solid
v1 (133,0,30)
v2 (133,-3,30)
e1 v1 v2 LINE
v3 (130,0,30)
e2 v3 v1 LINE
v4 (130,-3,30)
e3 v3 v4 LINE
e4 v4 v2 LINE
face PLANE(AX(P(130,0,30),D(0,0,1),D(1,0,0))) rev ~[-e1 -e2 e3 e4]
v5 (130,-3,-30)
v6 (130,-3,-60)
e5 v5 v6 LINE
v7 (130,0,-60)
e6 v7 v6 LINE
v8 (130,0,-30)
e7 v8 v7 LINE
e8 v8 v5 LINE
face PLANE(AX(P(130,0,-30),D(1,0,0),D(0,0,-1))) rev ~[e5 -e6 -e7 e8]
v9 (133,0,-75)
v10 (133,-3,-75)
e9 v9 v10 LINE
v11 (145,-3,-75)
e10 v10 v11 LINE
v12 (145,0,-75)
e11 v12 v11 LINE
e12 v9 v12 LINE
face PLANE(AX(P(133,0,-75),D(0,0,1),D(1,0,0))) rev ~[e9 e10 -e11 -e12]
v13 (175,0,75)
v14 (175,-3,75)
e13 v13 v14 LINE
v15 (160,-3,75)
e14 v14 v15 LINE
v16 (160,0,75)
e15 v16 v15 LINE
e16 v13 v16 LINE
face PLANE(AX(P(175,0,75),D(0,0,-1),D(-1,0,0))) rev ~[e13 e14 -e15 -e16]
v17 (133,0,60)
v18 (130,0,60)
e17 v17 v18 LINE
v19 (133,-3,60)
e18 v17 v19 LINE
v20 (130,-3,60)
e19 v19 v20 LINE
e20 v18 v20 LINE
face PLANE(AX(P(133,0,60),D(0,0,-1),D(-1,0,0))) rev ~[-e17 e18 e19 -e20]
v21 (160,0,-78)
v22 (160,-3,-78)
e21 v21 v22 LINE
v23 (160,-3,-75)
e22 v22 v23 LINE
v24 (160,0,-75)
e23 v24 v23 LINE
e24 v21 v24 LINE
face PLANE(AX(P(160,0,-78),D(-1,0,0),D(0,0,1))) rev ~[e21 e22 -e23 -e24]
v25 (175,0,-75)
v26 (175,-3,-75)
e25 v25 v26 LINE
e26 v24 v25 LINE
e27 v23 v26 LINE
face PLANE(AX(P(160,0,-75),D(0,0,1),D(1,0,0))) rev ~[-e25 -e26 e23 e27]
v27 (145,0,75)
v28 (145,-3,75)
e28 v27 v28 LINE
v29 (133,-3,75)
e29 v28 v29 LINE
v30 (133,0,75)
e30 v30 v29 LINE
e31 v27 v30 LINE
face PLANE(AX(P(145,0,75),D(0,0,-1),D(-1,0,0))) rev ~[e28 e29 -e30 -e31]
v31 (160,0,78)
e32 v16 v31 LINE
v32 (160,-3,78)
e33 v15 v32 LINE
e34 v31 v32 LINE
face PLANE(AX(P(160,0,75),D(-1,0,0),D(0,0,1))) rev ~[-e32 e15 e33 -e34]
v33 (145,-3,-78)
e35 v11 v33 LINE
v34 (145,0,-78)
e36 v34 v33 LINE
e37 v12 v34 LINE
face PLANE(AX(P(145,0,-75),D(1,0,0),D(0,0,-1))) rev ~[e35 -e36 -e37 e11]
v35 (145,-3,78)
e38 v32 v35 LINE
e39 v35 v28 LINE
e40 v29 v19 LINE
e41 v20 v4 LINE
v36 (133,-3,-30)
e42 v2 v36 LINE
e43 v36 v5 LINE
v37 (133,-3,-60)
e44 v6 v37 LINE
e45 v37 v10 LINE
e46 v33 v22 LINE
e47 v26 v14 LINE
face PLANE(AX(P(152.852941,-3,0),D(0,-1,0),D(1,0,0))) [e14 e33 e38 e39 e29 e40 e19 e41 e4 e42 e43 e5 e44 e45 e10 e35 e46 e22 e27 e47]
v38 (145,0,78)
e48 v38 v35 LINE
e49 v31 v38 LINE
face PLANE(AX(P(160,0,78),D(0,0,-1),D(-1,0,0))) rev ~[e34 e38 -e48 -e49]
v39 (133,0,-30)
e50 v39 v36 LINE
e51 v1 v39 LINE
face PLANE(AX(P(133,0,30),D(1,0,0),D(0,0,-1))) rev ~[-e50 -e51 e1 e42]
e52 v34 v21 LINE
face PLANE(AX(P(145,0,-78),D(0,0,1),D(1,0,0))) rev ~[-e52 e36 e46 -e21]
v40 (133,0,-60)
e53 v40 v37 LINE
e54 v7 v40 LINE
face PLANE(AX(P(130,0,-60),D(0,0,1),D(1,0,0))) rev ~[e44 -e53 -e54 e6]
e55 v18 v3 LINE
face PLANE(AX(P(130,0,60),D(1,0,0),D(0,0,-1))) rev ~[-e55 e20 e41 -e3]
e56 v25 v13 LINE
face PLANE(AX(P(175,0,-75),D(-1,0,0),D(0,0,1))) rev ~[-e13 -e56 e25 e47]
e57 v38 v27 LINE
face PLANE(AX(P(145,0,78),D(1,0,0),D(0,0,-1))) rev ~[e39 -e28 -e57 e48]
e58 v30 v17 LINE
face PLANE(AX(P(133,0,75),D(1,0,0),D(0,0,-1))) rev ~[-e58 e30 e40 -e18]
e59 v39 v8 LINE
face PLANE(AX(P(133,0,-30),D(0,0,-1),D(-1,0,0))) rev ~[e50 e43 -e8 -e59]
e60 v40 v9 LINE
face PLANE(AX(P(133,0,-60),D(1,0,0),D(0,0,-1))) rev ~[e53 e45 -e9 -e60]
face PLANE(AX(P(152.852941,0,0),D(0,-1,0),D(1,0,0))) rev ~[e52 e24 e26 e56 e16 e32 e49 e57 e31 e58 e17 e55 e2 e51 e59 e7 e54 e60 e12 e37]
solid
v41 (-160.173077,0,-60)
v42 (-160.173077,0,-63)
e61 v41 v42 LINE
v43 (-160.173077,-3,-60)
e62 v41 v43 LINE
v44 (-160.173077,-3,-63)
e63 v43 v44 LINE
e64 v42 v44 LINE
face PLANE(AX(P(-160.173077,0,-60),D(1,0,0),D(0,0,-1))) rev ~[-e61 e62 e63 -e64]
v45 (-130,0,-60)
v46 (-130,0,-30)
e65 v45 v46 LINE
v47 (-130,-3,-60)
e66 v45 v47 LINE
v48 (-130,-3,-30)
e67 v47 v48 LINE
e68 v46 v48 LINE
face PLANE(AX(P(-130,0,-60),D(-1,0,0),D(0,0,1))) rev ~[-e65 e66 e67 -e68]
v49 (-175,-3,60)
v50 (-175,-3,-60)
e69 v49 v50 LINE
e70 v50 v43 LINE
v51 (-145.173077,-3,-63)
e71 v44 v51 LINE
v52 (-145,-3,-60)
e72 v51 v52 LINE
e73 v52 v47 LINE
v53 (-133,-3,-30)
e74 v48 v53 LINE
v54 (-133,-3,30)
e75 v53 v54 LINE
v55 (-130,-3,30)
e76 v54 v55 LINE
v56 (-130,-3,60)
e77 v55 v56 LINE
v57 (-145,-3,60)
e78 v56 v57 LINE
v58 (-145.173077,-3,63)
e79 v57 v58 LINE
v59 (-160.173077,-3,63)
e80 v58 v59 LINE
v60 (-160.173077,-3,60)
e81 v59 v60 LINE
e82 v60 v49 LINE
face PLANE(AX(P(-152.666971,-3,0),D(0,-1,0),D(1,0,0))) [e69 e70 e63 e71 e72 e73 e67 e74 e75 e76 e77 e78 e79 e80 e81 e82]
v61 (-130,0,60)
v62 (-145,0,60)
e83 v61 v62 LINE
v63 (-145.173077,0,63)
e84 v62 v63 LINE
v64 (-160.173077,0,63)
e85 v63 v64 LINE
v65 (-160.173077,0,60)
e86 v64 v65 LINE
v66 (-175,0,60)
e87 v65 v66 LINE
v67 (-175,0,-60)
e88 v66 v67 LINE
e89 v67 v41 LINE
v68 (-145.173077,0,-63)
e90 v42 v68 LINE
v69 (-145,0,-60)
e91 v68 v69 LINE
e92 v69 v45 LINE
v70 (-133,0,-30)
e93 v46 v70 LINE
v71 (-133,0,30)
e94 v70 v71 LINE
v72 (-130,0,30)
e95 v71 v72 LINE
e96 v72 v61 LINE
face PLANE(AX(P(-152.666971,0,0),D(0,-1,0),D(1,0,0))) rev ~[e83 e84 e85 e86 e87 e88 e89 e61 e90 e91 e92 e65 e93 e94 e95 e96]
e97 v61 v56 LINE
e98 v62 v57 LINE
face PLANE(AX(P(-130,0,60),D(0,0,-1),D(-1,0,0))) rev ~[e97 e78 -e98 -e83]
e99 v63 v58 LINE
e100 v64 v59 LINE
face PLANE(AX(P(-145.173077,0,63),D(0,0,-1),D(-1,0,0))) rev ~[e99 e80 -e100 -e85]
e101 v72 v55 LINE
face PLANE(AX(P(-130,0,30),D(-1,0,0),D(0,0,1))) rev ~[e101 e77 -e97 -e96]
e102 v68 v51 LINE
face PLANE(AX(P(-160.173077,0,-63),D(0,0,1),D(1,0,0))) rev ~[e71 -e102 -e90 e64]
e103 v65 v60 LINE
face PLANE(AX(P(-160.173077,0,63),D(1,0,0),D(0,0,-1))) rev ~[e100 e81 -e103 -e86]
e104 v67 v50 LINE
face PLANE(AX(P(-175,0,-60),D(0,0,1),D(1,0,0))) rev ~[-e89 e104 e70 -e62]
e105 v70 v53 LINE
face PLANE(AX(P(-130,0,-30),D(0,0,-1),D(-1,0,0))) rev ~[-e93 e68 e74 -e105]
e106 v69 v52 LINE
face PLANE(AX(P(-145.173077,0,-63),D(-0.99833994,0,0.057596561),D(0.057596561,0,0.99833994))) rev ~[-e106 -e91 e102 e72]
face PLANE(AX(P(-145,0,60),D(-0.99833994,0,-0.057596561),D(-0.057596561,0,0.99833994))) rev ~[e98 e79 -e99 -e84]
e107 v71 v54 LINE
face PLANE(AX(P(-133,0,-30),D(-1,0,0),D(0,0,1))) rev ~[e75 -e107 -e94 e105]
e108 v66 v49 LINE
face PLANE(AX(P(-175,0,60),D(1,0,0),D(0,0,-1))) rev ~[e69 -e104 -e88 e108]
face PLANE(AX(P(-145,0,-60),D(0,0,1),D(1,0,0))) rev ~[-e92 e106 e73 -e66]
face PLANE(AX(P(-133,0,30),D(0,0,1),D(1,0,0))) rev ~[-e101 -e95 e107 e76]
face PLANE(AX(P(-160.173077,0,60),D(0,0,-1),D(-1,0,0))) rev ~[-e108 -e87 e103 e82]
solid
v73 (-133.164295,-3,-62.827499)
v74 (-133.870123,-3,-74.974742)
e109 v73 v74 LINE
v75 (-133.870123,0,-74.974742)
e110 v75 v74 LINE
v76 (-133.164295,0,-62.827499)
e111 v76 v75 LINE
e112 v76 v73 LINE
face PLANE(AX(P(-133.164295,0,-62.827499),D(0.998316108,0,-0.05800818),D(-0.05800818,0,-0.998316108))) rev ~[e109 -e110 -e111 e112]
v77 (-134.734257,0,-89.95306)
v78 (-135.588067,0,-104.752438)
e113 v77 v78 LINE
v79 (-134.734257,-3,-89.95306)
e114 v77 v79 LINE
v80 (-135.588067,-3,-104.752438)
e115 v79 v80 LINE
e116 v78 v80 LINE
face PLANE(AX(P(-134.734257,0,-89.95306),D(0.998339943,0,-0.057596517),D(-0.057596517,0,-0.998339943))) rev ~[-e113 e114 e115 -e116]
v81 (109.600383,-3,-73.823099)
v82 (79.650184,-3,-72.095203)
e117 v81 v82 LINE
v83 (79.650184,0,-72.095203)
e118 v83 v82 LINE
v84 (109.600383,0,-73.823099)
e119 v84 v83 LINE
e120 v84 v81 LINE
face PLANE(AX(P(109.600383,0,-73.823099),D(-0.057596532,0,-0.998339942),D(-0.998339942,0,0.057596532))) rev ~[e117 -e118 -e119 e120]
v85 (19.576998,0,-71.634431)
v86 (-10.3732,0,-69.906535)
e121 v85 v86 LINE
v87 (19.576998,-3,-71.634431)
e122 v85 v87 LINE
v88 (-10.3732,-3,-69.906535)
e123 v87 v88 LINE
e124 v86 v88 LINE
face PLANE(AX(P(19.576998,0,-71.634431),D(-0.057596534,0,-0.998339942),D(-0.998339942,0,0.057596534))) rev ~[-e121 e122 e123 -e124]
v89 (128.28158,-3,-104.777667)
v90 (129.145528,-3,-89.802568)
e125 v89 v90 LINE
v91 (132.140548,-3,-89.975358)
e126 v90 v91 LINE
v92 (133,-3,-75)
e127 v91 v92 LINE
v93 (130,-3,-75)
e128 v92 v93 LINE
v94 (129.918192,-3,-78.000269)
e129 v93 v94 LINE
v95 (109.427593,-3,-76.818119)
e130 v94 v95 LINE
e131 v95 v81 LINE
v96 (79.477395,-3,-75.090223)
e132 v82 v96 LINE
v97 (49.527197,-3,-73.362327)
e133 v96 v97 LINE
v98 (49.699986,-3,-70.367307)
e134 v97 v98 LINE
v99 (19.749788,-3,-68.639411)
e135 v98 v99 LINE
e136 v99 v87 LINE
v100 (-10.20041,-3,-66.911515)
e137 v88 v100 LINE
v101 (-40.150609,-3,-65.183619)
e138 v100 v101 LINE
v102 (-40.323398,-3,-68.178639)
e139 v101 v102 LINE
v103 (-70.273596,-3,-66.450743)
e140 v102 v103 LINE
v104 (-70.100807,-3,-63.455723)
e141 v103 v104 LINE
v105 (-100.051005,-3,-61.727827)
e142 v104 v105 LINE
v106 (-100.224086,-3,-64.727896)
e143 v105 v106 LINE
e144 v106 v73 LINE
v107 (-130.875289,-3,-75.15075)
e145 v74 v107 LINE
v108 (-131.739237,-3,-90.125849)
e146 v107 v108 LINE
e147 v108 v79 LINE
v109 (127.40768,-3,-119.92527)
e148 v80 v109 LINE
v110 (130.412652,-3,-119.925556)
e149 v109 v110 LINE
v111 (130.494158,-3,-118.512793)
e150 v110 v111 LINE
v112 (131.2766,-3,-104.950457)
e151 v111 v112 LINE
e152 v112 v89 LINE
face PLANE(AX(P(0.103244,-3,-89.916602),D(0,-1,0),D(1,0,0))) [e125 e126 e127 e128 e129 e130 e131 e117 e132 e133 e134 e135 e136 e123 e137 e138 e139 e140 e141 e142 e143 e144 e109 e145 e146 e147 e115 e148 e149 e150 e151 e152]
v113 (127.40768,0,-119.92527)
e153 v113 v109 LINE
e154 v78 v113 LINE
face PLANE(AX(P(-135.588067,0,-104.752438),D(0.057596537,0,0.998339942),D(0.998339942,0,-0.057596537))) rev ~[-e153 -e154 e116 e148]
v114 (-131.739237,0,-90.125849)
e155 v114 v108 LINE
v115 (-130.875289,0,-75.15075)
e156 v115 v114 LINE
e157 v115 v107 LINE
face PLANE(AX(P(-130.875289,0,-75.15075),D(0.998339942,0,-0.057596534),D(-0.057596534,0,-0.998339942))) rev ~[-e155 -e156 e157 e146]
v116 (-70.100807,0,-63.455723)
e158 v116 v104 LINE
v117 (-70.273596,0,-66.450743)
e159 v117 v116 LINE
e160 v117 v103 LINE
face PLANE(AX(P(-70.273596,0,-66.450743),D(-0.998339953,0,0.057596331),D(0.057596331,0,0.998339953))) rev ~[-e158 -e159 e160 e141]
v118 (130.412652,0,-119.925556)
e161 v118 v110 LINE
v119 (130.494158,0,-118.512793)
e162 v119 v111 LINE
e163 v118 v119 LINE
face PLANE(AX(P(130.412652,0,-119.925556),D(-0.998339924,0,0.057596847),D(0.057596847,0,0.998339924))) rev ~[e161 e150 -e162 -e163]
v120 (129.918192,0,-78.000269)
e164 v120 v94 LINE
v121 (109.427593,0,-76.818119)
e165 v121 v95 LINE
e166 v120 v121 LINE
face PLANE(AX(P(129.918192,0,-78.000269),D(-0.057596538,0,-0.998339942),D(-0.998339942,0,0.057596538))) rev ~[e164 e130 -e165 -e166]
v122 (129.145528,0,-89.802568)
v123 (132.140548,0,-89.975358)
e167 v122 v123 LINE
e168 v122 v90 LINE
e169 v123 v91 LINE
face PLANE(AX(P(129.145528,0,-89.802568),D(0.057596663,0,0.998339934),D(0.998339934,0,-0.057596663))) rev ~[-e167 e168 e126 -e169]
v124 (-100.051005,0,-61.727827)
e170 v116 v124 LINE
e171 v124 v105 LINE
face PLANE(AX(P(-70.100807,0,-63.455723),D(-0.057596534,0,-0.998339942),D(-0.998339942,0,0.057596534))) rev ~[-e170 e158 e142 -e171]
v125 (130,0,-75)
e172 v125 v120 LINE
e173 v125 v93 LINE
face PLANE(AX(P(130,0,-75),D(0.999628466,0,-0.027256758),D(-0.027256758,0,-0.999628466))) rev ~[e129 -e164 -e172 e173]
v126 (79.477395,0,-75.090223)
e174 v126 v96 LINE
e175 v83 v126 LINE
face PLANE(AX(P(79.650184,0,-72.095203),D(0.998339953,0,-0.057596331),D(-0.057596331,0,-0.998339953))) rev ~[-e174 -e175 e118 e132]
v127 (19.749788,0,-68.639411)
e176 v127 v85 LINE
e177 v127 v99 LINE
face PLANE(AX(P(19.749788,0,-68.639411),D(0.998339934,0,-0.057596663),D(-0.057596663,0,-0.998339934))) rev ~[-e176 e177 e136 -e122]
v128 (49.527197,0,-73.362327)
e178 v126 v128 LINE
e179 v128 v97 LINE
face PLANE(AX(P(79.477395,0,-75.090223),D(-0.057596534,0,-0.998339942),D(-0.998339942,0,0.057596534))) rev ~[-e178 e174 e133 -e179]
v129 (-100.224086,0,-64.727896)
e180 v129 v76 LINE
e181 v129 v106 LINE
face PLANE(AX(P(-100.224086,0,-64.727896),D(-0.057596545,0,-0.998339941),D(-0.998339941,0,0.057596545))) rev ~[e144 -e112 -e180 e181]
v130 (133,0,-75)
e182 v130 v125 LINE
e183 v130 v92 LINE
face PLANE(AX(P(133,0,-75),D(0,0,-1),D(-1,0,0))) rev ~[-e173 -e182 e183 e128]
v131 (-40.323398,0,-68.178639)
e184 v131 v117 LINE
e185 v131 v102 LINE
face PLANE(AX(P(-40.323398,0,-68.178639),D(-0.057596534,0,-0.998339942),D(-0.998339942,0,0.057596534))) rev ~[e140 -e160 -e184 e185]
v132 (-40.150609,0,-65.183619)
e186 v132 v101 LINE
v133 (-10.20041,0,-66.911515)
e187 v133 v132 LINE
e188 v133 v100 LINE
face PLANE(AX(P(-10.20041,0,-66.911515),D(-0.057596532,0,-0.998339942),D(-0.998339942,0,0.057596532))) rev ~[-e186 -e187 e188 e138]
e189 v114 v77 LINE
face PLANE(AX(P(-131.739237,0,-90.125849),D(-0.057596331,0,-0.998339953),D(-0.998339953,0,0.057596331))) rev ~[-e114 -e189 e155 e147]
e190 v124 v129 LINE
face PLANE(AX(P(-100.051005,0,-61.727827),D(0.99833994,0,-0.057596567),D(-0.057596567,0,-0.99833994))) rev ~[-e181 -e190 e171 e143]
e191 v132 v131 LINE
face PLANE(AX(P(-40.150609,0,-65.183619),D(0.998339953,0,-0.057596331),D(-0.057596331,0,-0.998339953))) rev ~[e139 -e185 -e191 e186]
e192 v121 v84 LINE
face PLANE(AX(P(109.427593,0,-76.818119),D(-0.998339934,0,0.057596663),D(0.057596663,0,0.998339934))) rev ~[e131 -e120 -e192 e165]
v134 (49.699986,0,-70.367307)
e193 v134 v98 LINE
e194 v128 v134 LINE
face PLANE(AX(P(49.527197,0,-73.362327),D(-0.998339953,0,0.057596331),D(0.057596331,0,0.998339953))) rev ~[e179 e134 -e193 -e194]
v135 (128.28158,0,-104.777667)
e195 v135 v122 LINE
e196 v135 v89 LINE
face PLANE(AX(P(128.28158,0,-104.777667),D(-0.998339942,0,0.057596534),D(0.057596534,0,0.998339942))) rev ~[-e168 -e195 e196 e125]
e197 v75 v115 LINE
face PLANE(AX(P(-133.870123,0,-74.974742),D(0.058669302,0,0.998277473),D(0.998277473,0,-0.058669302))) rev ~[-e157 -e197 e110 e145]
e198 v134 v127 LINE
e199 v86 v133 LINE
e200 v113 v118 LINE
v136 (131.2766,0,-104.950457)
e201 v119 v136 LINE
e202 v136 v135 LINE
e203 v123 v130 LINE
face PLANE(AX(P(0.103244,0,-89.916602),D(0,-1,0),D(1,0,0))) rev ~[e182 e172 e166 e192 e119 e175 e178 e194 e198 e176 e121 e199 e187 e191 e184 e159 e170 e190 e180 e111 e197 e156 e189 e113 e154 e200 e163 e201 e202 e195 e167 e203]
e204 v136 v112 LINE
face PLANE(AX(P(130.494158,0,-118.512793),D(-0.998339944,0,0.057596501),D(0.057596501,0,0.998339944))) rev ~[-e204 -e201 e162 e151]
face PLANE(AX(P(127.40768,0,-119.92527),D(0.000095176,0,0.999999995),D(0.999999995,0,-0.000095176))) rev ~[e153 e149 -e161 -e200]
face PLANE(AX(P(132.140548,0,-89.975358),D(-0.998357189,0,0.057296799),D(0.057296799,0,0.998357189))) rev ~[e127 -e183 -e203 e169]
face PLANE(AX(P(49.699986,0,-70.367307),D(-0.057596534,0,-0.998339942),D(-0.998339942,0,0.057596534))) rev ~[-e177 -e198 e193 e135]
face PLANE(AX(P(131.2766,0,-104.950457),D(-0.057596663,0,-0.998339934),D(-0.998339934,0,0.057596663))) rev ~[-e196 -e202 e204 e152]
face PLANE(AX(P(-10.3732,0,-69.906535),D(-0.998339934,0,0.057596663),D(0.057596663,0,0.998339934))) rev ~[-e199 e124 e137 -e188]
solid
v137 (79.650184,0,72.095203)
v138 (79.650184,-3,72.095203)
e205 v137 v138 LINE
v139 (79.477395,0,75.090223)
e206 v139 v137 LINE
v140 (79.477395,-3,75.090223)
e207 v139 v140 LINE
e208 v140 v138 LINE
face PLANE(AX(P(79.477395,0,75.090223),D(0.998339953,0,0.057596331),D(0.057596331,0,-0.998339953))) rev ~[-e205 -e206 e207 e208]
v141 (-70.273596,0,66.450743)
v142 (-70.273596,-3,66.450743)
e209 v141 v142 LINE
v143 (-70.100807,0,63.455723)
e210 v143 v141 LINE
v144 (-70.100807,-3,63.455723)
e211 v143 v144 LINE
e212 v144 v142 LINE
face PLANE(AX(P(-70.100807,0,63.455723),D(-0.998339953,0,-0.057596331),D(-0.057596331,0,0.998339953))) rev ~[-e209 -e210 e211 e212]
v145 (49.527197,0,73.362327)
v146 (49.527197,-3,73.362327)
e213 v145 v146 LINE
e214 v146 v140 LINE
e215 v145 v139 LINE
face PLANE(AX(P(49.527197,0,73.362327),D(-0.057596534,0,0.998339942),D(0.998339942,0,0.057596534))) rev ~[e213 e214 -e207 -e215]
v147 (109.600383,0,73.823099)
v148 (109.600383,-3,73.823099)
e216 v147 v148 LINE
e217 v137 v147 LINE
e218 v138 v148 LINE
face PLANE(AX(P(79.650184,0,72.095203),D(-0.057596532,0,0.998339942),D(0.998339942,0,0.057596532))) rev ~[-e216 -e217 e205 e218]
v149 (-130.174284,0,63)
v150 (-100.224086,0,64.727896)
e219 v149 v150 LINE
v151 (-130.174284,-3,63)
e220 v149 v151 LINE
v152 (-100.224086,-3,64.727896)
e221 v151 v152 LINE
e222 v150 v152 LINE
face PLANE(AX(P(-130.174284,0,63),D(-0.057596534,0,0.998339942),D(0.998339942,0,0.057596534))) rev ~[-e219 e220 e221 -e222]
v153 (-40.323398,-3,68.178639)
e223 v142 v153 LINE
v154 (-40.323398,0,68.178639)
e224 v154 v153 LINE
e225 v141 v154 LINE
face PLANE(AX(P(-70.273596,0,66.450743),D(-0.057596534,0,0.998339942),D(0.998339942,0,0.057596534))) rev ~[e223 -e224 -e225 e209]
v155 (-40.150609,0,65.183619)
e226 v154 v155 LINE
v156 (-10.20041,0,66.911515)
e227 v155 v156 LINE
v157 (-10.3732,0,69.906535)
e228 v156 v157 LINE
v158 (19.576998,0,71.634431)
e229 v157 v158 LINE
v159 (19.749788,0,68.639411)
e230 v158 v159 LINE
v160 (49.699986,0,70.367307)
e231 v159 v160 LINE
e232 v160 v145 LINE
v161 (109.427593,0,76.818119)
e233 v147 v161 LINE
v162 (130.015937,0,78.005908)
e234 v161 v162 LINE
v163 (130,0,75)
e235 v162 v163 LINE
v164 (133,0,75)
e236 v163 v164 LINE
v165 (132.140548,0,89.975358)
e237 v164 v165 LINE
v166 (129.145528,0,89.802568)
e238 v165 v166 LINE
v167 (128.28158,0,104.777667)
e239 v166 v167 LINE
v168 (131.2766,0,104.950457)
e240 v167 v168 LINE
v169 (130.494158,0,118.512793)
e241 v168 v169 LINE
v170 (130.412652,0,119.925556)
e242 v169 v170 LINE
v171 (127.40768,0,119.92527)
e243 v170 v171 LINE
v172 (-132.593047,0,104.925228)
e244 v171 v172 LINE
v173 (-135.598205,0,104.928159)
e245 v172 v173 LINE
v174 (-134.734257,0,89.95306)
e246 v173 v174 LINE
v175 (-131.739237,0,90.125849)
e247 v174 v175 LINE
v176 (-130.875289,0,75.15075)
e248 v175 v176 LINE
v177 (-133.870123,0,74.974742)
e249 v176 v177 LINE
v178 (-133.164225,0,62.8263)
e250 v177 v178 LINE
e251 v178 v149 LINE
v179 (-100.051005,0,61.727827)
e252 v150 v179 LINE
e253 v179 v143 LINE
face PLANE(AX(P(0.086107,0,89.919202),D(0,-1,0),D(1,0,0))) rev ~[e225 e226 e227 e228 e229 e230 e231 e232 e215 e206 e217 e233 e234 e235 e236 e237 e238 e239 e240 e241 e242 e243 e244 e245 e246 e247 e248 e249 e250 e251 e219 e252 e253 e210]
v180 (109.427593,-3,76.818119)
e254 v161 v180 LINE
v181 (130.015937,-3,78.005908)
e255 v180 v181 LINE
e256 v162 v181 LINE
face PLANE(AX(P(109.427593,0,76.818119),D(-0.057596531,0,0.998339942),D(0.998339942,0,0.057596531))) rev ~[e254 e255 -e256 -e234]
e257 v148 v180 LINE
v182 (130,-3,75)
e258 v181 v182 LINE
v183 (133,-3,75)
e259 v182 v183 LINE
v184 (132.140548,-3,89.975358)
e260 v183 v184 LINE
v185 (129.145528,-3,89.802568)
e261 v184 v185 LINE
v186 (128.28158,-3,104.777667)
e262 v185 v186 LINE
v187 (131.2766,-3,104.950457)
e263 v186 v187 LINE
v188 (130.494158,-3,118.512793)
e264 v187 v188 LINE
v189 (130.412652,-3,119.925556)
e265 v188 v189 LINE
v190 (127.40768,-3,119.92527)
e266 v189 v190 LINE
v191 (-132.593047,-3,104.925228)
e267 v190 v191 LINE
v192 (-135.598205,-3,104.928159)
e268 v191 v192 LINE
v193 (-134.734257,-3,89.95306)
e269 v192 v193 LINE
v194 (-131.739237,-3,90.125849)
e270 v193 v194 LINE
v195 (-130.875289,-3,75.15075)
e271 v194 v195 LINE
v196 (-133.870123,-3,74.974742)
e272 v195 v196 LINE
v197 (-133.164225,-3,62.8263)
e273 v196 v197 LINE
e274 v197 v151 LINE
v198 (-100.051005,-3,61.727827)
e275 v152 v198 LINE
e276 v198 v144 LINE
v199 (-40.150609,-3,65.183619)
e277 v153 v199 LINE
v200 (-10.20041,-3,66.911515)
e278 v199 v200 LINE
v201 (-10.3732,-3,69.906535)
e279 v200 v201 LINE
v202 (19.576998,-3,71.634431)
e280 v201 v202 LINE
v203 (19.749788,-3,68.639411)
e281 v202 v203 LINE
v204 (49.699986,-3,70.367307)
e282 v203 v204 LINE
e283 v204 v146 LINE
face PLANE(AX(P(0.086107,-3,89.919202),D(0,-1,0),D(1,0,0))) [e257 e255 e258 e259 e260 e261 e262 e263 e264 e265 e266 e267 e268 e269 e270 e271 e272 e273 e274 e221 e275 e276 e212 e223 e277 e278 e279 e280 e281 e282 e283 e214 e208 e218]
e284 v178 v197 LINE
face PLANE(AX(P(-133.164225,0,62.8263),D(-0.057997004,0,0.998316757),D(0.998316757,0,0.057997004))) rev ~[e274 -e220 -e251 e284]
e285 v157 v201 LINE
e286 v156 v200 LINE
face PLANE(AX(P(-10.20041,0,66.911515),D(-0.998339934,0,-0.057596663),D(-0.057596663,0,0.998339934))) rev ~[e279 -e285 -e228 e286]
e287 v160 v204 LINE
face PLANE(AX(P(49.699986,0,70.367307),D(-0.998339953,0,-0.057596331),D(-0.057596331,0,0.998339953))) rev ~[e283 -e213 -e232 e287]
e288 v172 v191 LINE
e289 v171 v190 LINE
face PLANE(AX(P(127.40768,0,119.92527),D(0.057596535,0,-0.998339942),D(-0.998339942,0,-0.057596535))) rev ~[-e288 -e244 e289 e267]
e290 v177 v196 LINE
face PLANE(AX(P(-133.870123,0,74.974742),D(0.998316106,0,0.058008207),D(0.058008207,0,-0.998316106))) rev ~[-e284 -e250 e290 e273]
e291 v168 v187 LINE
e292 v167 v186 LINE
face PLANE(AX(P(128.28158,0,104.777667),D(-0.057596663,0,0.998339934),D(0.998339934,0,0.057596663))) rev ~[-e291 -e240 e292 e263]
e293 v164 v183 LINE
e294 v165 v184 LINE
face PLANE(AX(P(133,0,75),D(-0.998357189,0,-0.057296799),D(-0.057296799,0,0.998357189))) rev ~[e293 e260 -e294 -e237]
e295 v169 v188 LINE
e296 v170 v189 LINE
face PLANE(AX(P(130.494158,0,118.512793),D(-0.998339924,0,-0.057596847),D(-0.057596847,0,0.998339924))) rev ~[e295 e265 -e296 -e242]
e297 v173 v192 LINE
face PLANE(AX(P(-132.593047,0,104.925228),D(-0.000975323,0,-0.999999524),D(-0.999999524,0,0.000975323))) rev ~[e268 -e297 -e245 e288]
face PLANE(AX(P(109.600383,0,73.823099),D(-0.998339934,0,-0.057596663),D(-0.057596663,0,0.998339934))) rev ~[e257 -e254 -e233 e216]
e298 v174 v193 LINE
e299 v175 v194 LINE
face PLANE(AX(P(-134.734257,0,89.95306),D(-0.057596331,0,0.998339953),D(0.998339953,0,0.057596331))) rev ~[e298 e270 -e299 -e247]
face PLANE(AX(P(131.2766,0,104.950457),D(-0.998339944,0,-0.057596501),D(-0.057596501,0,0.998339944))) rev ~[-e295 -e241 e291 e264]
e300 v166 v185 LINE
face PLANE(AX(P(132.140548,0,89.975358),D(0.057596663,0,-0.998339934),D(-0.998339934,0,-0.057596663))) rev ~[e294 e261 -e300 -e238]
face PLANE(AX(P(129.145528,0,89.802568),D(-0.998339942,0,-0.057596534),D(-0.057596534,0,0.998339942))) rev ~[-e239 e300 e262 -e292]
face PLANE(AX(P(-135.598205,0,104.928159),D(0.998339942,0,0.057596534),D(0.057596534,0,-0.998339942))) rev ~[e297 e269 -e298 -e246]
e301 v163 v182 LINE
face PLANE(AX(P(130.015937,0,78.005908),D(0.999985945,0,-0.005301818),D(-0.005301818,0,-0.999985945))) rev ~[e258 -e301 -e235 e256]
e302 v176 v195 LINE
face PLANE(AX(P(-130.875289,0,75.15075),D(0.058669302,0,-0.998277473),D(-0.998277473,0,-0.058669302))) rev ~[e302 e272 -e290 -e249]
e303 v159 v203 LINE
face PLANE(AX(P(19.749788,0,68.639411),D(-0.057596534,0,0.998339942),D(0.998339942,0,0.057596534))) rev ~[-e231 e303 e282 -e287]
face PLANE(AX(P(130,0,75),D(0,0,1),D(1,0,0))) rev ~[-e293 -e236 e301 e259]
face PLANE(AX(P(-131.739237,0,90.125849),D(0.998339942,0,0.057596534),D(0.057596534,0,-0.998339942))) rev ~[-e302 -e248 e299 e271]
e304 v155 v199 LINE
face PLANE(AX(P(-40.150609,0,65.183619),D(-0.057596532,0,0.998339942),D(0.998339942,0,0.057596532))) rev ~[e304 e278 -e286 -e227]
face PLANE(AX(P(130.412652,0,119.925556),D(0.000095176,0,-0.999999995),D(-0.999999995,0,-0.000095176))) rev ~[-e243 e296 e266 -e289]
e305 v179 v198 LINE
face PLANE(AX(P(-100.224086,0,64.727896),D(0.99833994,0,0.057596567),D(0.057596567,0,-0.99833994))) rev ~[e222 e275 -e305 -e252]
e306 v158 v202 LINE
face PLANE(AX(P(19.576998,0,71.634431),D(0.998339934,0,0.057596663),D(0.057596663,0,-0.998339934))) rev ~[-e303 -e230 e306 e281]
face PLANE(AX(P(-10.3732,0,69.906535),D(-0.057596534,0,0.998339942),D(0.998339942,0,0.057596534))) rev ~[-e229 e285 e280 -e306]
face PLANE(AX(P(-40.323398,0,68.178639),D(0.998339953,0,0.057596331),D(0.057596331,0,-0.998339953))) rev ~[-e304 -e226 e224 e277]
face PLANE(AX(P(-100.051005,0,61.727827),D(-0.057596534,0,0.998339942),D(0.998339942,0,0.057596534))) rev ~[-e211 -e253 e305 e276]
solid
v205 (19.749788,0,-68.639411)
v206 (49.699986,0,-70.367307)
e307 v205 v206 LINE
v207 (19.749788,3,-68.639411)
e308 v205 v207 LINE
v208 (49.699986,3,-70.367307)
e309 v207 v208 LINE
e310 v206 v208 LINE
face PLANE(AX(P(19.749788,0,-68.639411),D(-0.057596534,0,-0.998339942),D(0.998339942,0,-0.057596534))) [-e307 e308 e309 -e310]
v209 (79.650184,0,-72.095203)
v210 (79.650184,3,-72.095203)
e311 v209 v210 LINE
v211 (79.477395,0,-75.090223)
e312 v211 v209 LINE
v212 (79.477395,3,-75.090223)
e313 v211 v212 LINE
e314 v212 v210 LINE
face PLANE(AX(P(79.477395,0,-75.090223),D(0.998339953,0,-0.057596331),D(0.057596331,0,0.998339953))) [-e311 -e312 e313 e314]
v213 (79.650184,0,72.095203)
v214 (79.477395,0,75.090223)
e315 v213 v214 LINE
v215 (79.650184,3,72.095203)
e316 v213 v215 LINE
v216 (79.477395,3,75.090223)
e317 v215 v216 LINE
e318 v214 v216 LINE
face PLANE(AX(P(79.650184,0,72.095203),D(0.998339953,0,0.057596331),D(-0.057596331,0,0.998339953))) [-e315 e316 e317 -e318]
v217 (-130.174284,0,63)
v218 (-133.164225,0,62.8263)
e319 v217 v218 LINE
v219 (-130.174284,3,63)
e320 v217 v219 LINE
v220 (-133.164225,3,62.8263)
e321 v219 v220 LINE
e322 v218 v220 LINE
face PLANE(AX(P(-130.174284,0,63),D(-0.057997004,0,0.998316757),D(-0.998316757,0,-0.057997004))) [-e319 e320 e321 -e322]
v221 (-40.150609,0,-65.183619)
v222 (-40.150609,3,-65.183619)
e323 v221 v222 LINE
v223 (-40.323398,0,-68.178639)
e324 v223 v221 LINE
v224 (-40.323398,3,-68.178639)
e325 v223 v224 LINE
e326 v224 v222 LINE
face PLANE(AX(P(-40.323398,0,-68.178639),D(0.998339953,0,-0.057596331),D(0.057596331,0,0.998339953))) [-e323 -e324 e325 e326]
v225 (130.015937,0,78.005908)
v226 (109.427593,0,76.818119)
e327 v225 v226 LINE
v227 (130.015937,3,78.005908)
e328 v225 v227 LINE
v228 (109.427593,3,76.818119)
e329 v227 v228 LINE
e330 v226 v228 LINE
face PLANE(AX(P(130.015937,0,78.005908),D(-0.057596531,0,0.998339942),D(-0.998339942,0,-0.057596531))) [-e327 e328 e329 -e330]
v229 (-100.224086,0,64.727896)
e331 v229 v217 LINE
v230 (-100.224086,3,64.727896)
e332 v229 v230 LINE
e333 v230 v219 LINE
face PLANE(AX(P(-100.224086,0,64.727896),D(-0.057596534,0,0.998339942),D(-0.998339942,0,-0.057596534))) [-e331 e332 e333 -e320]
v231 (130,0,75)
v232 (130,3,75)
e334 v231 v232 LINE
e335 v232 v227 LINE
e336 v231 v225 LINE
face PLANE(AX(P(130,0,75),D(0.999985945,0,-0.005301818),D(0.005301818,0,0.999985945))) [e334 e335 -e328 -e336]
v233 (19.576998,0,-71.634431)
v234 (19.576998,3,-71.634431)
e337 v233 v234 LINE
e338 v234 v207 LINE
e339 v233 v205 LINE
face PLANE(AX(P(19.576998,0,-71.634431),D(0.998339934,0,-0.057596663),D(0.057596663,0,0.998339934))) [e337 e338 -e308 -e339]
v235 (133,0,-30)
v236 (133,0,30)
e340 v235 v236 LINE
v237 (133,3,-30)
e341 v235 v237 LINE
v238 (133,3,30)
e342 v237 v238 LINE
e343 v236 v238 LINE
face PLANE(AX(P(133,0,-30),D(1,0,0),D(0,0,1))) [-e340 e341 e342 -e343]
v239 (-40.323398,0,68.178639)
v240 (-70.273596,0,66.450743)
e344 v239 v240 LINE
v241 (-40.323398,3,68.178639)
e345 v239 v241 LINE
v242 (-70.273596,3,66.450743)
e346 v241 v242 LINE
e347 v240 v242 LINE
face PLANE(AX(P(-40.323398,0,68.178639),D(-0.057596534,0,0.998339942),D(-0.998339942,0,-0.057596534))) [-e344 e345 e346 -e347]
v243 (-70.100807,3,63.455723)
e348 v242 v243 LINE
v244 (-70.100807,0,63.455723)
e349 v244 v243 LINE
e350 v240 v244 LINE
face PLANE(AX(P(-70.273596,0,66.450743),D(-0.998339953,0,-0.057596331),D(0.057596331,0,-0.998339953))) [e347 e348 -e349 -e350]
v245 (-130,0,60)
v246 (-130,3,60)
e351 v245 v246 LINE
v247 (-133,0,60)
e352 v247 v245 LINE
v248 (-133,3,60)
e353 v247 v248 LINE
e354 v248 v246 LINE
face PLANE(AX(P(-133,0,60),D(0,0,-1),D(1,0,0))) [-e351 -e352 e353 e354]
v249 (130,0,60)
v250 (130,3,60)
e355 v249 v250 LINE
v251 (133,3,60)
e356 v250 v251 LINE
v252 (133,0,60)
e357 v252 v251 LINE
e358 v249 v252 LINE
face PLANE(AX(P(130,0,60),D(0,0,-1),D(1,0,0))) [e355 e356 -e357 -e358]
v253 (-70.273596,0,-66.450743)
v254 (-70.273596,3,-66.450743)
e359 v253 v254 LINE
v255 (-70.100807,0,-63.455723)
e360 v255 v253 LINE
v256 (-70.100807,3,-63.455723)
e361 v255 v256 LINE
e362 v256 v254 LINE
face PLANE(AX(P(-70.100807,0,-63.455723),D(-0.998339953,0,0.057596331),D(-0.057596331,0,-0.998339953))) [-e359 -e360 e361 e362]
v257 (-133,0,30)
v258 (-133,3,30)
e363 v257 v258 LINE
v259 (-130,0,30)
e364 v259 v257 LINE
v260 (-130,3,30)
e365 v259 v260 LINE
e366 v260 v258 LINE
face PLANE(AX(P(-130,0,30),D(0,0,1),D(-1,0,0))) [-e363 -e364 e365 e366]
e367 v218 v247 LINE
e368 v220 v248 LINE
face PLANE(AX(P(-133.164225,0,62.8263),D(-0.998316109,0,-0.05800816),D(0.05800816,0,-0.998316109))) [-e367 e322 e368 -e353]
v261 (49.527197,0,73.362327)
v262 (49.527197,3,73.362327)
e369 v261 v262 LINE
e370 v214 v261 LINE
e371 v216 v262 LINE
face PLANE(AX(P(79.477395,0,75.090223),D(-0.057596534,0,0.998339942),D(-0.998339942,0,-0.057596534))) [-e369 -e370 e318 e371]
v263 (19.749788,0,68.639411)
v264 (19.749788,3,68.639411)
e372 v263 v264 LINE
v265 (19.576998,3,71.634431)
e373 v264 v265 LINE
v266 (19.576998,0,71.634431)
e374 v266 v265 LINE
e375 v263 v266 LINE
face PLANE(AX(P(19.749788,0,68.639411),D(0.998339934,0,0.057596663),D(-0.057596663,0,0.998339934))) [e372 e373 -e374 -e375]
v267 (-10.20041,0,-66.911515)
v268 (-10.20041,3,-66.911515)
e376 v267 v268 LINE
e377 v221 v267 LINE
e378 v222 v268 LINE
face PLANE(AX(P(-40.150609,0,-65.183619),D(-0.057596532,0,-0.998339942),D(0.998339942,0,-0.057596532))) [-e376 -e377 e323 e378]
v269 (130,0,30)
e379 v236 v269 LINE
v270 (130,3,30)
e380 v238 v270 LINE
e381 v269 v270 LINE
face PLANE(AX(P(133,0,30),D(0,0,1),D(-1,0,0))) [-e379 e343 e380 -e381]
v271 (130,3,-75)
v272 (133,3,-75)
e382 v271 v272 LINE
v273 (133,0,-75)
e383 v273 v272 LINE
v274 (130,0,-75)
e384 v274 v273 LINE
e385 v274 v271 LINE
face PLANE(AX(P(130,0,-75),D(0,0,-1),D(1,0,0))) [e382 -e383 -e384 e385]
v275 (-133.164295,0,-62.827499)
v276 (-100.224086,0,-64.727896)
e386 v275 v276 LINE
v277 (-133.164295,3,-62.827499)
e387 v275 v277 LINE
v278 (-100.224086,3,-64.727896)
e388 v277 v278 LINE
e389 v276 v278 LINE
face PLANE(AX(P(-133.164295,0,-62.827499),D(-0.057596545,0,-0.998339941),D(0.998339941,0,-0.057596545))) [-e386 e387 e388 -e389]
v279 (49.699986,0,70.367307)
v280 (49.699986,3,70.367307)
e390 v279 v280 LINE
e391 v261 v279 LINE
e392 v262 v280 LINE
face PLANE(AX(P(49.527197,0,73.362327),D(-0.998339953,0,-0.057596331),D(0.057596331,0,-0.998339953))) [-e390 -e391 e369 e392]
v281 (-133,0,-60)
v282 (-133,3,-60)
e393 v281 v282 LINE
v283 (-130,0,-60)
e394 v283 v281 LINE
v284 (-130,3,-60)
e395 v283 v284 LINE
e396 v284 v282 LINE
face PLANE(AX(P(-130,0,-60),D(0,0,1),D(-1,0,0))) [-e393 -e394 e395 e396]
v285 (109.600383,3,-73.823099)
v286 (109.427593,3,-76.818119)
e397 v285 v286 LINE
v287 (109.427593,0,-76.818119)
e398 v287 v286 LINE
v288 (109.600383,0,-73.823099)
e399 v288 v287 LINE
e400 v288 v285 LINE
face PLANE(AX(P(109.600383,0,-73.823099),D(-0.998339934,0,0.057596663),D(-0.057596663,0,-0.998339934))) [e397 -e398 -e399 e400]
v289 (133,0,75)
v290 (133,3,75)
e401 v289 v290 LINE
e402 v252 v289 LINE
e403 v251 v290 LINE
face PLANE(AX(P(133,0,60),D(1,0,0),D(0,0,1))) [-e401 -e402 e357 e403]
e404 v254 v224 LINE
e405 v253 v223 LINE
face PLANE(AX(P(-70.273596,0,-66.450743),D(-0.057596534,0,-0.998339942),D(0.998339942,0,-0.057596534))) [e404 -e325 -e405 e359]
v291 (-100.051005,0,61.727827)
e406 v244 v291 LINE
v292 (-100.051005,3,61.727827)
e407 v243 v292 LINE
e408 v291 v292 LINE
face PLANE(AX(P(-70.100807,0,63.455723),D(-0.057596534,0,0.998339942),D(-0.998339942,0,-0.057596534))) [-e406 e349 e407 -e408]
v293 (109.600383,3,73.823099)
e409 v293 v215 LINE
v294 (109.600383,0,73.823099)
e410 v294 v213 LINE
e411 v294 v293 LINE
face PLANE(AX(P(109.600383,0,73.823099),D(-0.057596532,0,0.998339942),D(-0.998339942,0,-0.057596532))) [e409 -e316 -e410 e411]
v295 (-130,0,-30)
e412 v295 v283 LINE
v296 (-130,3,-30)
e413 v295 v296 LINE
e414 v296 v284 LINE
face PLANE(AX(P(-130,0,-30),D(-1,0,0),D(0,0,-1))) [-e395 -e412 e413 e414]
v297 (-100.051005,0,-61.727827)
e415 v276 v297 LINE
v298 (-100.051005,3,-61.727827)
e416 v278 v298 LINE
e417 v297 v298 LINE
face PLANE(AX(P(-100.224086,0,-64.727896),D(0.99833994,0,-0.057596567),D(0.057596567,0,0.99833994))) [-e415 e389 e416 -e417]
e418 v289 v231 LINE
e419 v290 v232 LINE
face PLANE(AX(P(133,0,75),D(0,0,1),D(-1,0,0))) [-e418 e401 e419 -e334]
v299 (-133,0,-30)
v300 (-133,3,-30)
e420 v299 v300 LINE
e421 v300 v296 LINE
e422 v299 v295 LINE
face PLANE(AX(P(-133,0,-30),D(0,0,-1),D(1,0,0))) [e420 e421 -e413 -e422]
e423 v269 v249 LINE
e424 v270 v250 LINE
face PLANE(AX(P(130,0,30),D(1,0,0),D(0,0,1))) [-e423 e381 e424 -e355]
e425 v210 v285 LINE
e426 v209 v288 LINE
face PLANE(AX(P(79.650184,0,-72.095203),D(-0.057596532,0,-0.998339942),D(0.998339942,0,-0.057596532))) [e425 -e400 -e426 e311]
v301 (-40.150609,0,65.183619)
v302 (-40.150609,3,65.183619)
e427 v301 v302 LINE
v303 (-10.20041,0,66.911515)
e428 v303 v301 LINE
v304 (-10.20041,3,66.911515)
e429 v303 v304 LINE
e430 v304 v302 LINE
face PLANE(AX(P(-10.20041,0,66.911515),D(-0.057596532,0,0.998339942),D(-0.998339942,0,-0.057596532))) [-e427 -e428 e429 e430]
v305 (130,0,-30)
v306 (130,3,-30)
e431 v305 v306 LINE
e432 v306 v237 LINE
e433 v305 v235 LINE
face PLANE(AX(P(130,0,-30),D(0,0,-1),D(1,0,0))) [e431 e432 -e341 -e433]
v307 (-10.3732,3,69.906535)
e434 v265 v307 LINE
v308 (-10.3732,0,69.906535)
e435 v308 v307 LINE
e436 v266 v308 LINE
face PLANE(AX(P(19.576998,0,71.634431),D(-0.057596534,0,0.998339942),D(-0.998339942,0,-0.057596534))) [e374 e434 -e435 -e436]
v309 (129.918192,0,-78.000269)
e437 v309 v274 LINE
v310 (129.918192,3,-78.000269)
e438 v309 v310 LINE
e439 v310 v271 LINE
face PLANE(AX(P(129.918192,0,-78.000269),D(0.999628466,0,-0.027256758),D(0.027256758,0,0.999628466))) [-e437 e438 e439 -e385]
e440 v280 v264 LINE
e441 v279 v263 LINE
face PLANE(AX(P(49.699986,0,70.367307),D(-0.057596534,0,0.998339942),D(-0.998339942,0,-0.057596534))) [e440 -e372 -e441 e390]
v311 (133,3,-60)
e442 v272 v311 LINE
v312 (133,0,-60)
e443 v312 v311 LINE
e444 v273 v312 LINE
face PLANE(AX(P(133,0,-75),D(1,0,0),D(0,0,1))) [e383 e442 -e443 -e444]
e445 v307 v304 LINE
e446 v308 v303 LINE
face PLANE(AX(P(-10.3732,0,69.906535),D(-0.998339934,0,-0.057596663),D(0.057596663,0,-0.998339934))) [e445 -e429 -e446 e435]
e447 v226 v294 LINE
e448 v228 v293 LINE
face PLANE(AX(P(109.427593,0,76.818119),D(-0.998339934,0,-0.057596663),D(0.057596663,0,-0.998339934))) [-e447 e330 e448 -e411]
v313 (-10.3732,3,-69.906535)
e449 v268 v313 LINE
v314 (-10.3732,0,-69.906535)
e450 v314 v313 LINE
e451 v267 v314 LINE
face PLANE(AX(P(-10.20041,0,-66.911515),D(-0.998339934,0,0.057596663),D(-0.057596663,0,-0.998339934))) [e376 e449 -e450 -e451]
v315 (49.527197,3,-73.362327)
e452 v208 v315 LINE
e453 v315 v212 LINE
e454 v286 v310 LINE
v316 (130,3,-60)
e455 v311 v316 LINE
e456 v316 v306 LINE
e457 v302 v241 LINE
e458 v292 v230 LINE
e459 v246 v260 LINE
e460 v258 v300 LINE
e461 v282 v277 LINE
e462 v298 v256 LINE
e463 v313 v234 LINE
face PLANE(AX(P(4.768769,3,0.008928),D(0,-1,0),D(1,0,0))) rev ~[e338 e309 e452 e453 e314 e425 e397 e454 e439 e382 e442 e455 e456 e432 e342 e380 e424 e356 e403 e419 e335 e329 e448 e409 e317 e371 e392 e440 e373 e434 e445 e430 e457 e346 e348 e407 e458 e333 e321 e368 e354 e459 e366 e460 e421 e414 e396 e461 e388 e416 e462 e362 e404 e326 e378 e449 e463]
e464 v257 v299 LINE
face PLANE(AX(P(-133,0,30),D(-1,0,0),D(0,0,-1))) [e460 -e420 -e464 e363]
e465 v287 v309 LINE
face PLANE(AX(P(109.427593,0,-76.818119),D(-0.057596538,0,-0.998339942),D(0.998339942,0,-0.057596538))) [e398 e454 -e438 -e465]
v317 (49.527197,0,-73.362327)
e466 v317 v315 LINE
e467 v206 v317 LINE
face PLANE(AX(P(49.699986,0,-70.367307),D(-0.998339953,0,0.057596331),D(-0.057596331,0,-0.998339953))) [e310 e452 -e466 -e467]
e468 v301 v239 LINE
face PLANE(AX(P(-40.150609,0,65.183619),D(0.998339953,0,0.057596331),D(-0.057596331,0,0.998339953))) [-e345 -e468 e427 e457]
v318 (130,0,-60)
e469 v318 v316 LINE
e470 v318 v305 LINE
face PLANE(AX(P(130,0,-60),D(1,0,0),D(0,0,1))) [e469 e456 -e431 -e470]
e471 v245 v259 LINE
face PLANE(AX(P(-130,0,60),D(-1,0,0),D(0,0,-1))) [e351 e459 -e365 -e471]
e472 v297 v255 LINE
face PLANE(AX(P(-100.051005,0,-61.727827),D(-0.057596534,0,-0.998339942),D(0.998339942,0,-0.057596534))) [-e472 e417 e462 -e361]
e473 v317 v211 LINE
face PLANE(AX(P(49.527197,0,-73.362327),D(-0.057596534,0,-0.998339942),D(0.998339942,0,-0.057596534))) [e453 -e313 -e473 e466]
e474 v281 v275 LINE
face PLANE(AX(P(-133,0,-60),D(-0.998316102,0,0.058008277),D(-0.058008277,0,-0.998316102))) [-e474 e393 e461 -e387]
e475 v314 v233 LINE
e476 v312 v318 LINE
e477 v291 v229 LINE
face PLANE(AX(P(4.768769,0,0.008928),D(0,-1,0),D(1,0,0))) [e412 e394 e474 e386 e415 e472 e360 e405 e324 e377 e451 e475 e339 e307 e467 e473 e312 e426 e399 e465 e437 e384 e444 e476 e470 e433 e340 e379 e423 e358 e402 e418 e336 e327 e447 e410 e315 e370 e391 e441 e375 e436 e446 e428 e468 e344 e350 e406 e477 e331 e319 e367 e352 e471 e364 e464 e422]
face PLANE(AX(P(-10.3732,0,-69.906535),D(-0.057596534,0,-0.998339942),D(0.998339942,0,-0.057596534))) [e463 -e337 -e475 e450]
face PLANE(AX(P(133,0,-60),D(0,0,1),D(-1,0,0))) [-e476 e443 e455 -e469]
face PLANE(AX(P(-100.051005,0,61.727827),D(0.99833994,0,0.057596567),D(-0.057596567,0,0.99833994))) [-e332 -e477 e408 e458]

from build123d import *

# Parameters (mm, degrees)
F1_DEPTH = 3
F2_DEPTH = 3


with BuildPart() as f1:
    # F0 (on Front) → F1 (new body)
    with BuildSketch(Plane.XZ):
        Polygon((-130, 60), (-133, 60), (-145, 60), (-145.173077, 63), (-160.173077, 63), (-160.173077, 60), (-175, 60), (-175, 0), (-175, -60), (-160.173077, -60), (-160.173077, -63), (-145.173077, -63), (-145, -60), (-133, -60), (-130, -60), (-130, -30), (-133, -30), (-133, 0), (-133, 30), (-130, 30), align=None)
        Polygon((-100.224086, -64.727896), (-133.164295, -62.827499), (-133.870123, -74.974742), (-130.875289, -75.15075), (-131.739237, -90.125849), (-134.734257, -89.95306), (-135.588067, -104.752438), (127.40768, -119.92527), (130.412652, -119.925556), (130.494158, -118.512793), (131.2766, -104.950457), (128.28158, -104.777667), (129.145528, -89.802568), (132.140548, -89.975358), (133, -75), (130, -75), (129.918192, -78.000269), (109.427593, -76.818119), (109.600383, -73.823099), (79.650184, -72.095203), (79.477395, -75.090223), (49.527197, -73.362327), (49.699986, -70.367307), (19.749788, -68.639411), (19.576998, -71.634431), (-10.3732, -69.906535), (-10.20041, -66.911515), (-40.150609, -65.183619), (-40.323398, -68.178639), (-70.273596, -66.450743), (-70.100807, -63.455723), (-100.051005, -61.727827), align=None)
        Polygon((-130.174284, 63), (-100.224086, 64.727896), (-100.051005, 61.727827), (-70.100807, 63.455723), (-70.273596, 66.450743), (-40.323398, 68.178639), (-40.150609, 65.183619), (-10.20041, 66.911515), (-10.3732, 69.906535), (19.576998, 71.634431), (19.749788, 68.639411), (49.699986, 70.367307), (49.527197, 73.362327), (79.477395, 75.090223), (79.650184, 72.095203), (109.600383, 73.823099), (109.427593, 76.818119), (130.015937, 78.005908), (130, 75), (133, 75), (132.140548, 89.975358), (129.145528, 89.802568), (128.28158, 104.777667), (131.2766, 104.950457), (130.494158, 118.512793), (130.412652, 119.925556), (127.40768, 119.92527), (-132.593047, 104.925228), (-135.598205, 104.928159), (-134.734257, 89.95306), (-131.739237, 90.125849), (-130.875289, 75.15075), (-133.870123, 74.974742), (-133.164225, 62.8263), align=None)
        Polygon((145, 75), (133, 75), (133, 60), (130, 60), (130, 30), (133, 30), (133, 0), (133, -30), (130, -30), (130, -60), (133, -60), (133, -75), (145, -75), (145, -78), (160, -78), (160, -75), (175, -75), (175, 0), (175, 75), (160, 75), (160, 78), (145, 78), align=None)
    extrude(amount=F1_DEPTH)


with BuildPart() as f2:
    # F0 (on Front) → F2 (new body)
    with BuildSketch(Plane.XZ):
        Polygon((-100.051005, 61.727827), (-100.224086, 64.727896), (-130.174284, 63), (-133.164225, 62.8263), (-133, 60), (-130, 60), (-130, 30), (-133, 30), (-133, 0), (-133, -30), (-130, -30), (-130, -60), (-133, -60), (-133.164295, -62.827499), (-100.224086, -64.727896), (-100.051005, -61.727827), (-70.100807, -63.455723), (-70.273596, -66.450743), (-40.323398, -68.178639), (-40.150609, -65.183619), (-10.20041, -66.911515), (-10.3732, -69.906535), (19.576998, -71.634431), (19.749788, -68.639411), (49.699986, -70.367307), (49.527197, -73.362327), (79.477395, -75.090223), (79.650184, -72.095203), (109.600383, -73.823099), (109.427593, -76.818119), (129.918192, -78.000269), (130, -75), (133, -75), (133, -60), (130, -60), (130, -30), (133, -30), (133, 0), (133, 30), (130, 30), (130, 60), (133, 60), (133, 75), (130, 75), (130.015937, 78.005908), (109.427593, 76.818119), (109.600383, 73.823099), (79.650184, 72.095203), (79.477395, 75.090223), (49.527197, 73.362327), (49.699986, 70.367307), (19.749788, 68.639411), (19.576998, 71.634431), (-10.3732, 69.906535), (-10.20041, 66.911515), (-40.150609, 65.183619), (-40.323398, 68.178639), (-70.273596, 66.450743), (-70.100807, 63.455723), align=None)
    extrude(amount=-F2_DEPTH)


solid = Compound([f1.part, f2.part])
